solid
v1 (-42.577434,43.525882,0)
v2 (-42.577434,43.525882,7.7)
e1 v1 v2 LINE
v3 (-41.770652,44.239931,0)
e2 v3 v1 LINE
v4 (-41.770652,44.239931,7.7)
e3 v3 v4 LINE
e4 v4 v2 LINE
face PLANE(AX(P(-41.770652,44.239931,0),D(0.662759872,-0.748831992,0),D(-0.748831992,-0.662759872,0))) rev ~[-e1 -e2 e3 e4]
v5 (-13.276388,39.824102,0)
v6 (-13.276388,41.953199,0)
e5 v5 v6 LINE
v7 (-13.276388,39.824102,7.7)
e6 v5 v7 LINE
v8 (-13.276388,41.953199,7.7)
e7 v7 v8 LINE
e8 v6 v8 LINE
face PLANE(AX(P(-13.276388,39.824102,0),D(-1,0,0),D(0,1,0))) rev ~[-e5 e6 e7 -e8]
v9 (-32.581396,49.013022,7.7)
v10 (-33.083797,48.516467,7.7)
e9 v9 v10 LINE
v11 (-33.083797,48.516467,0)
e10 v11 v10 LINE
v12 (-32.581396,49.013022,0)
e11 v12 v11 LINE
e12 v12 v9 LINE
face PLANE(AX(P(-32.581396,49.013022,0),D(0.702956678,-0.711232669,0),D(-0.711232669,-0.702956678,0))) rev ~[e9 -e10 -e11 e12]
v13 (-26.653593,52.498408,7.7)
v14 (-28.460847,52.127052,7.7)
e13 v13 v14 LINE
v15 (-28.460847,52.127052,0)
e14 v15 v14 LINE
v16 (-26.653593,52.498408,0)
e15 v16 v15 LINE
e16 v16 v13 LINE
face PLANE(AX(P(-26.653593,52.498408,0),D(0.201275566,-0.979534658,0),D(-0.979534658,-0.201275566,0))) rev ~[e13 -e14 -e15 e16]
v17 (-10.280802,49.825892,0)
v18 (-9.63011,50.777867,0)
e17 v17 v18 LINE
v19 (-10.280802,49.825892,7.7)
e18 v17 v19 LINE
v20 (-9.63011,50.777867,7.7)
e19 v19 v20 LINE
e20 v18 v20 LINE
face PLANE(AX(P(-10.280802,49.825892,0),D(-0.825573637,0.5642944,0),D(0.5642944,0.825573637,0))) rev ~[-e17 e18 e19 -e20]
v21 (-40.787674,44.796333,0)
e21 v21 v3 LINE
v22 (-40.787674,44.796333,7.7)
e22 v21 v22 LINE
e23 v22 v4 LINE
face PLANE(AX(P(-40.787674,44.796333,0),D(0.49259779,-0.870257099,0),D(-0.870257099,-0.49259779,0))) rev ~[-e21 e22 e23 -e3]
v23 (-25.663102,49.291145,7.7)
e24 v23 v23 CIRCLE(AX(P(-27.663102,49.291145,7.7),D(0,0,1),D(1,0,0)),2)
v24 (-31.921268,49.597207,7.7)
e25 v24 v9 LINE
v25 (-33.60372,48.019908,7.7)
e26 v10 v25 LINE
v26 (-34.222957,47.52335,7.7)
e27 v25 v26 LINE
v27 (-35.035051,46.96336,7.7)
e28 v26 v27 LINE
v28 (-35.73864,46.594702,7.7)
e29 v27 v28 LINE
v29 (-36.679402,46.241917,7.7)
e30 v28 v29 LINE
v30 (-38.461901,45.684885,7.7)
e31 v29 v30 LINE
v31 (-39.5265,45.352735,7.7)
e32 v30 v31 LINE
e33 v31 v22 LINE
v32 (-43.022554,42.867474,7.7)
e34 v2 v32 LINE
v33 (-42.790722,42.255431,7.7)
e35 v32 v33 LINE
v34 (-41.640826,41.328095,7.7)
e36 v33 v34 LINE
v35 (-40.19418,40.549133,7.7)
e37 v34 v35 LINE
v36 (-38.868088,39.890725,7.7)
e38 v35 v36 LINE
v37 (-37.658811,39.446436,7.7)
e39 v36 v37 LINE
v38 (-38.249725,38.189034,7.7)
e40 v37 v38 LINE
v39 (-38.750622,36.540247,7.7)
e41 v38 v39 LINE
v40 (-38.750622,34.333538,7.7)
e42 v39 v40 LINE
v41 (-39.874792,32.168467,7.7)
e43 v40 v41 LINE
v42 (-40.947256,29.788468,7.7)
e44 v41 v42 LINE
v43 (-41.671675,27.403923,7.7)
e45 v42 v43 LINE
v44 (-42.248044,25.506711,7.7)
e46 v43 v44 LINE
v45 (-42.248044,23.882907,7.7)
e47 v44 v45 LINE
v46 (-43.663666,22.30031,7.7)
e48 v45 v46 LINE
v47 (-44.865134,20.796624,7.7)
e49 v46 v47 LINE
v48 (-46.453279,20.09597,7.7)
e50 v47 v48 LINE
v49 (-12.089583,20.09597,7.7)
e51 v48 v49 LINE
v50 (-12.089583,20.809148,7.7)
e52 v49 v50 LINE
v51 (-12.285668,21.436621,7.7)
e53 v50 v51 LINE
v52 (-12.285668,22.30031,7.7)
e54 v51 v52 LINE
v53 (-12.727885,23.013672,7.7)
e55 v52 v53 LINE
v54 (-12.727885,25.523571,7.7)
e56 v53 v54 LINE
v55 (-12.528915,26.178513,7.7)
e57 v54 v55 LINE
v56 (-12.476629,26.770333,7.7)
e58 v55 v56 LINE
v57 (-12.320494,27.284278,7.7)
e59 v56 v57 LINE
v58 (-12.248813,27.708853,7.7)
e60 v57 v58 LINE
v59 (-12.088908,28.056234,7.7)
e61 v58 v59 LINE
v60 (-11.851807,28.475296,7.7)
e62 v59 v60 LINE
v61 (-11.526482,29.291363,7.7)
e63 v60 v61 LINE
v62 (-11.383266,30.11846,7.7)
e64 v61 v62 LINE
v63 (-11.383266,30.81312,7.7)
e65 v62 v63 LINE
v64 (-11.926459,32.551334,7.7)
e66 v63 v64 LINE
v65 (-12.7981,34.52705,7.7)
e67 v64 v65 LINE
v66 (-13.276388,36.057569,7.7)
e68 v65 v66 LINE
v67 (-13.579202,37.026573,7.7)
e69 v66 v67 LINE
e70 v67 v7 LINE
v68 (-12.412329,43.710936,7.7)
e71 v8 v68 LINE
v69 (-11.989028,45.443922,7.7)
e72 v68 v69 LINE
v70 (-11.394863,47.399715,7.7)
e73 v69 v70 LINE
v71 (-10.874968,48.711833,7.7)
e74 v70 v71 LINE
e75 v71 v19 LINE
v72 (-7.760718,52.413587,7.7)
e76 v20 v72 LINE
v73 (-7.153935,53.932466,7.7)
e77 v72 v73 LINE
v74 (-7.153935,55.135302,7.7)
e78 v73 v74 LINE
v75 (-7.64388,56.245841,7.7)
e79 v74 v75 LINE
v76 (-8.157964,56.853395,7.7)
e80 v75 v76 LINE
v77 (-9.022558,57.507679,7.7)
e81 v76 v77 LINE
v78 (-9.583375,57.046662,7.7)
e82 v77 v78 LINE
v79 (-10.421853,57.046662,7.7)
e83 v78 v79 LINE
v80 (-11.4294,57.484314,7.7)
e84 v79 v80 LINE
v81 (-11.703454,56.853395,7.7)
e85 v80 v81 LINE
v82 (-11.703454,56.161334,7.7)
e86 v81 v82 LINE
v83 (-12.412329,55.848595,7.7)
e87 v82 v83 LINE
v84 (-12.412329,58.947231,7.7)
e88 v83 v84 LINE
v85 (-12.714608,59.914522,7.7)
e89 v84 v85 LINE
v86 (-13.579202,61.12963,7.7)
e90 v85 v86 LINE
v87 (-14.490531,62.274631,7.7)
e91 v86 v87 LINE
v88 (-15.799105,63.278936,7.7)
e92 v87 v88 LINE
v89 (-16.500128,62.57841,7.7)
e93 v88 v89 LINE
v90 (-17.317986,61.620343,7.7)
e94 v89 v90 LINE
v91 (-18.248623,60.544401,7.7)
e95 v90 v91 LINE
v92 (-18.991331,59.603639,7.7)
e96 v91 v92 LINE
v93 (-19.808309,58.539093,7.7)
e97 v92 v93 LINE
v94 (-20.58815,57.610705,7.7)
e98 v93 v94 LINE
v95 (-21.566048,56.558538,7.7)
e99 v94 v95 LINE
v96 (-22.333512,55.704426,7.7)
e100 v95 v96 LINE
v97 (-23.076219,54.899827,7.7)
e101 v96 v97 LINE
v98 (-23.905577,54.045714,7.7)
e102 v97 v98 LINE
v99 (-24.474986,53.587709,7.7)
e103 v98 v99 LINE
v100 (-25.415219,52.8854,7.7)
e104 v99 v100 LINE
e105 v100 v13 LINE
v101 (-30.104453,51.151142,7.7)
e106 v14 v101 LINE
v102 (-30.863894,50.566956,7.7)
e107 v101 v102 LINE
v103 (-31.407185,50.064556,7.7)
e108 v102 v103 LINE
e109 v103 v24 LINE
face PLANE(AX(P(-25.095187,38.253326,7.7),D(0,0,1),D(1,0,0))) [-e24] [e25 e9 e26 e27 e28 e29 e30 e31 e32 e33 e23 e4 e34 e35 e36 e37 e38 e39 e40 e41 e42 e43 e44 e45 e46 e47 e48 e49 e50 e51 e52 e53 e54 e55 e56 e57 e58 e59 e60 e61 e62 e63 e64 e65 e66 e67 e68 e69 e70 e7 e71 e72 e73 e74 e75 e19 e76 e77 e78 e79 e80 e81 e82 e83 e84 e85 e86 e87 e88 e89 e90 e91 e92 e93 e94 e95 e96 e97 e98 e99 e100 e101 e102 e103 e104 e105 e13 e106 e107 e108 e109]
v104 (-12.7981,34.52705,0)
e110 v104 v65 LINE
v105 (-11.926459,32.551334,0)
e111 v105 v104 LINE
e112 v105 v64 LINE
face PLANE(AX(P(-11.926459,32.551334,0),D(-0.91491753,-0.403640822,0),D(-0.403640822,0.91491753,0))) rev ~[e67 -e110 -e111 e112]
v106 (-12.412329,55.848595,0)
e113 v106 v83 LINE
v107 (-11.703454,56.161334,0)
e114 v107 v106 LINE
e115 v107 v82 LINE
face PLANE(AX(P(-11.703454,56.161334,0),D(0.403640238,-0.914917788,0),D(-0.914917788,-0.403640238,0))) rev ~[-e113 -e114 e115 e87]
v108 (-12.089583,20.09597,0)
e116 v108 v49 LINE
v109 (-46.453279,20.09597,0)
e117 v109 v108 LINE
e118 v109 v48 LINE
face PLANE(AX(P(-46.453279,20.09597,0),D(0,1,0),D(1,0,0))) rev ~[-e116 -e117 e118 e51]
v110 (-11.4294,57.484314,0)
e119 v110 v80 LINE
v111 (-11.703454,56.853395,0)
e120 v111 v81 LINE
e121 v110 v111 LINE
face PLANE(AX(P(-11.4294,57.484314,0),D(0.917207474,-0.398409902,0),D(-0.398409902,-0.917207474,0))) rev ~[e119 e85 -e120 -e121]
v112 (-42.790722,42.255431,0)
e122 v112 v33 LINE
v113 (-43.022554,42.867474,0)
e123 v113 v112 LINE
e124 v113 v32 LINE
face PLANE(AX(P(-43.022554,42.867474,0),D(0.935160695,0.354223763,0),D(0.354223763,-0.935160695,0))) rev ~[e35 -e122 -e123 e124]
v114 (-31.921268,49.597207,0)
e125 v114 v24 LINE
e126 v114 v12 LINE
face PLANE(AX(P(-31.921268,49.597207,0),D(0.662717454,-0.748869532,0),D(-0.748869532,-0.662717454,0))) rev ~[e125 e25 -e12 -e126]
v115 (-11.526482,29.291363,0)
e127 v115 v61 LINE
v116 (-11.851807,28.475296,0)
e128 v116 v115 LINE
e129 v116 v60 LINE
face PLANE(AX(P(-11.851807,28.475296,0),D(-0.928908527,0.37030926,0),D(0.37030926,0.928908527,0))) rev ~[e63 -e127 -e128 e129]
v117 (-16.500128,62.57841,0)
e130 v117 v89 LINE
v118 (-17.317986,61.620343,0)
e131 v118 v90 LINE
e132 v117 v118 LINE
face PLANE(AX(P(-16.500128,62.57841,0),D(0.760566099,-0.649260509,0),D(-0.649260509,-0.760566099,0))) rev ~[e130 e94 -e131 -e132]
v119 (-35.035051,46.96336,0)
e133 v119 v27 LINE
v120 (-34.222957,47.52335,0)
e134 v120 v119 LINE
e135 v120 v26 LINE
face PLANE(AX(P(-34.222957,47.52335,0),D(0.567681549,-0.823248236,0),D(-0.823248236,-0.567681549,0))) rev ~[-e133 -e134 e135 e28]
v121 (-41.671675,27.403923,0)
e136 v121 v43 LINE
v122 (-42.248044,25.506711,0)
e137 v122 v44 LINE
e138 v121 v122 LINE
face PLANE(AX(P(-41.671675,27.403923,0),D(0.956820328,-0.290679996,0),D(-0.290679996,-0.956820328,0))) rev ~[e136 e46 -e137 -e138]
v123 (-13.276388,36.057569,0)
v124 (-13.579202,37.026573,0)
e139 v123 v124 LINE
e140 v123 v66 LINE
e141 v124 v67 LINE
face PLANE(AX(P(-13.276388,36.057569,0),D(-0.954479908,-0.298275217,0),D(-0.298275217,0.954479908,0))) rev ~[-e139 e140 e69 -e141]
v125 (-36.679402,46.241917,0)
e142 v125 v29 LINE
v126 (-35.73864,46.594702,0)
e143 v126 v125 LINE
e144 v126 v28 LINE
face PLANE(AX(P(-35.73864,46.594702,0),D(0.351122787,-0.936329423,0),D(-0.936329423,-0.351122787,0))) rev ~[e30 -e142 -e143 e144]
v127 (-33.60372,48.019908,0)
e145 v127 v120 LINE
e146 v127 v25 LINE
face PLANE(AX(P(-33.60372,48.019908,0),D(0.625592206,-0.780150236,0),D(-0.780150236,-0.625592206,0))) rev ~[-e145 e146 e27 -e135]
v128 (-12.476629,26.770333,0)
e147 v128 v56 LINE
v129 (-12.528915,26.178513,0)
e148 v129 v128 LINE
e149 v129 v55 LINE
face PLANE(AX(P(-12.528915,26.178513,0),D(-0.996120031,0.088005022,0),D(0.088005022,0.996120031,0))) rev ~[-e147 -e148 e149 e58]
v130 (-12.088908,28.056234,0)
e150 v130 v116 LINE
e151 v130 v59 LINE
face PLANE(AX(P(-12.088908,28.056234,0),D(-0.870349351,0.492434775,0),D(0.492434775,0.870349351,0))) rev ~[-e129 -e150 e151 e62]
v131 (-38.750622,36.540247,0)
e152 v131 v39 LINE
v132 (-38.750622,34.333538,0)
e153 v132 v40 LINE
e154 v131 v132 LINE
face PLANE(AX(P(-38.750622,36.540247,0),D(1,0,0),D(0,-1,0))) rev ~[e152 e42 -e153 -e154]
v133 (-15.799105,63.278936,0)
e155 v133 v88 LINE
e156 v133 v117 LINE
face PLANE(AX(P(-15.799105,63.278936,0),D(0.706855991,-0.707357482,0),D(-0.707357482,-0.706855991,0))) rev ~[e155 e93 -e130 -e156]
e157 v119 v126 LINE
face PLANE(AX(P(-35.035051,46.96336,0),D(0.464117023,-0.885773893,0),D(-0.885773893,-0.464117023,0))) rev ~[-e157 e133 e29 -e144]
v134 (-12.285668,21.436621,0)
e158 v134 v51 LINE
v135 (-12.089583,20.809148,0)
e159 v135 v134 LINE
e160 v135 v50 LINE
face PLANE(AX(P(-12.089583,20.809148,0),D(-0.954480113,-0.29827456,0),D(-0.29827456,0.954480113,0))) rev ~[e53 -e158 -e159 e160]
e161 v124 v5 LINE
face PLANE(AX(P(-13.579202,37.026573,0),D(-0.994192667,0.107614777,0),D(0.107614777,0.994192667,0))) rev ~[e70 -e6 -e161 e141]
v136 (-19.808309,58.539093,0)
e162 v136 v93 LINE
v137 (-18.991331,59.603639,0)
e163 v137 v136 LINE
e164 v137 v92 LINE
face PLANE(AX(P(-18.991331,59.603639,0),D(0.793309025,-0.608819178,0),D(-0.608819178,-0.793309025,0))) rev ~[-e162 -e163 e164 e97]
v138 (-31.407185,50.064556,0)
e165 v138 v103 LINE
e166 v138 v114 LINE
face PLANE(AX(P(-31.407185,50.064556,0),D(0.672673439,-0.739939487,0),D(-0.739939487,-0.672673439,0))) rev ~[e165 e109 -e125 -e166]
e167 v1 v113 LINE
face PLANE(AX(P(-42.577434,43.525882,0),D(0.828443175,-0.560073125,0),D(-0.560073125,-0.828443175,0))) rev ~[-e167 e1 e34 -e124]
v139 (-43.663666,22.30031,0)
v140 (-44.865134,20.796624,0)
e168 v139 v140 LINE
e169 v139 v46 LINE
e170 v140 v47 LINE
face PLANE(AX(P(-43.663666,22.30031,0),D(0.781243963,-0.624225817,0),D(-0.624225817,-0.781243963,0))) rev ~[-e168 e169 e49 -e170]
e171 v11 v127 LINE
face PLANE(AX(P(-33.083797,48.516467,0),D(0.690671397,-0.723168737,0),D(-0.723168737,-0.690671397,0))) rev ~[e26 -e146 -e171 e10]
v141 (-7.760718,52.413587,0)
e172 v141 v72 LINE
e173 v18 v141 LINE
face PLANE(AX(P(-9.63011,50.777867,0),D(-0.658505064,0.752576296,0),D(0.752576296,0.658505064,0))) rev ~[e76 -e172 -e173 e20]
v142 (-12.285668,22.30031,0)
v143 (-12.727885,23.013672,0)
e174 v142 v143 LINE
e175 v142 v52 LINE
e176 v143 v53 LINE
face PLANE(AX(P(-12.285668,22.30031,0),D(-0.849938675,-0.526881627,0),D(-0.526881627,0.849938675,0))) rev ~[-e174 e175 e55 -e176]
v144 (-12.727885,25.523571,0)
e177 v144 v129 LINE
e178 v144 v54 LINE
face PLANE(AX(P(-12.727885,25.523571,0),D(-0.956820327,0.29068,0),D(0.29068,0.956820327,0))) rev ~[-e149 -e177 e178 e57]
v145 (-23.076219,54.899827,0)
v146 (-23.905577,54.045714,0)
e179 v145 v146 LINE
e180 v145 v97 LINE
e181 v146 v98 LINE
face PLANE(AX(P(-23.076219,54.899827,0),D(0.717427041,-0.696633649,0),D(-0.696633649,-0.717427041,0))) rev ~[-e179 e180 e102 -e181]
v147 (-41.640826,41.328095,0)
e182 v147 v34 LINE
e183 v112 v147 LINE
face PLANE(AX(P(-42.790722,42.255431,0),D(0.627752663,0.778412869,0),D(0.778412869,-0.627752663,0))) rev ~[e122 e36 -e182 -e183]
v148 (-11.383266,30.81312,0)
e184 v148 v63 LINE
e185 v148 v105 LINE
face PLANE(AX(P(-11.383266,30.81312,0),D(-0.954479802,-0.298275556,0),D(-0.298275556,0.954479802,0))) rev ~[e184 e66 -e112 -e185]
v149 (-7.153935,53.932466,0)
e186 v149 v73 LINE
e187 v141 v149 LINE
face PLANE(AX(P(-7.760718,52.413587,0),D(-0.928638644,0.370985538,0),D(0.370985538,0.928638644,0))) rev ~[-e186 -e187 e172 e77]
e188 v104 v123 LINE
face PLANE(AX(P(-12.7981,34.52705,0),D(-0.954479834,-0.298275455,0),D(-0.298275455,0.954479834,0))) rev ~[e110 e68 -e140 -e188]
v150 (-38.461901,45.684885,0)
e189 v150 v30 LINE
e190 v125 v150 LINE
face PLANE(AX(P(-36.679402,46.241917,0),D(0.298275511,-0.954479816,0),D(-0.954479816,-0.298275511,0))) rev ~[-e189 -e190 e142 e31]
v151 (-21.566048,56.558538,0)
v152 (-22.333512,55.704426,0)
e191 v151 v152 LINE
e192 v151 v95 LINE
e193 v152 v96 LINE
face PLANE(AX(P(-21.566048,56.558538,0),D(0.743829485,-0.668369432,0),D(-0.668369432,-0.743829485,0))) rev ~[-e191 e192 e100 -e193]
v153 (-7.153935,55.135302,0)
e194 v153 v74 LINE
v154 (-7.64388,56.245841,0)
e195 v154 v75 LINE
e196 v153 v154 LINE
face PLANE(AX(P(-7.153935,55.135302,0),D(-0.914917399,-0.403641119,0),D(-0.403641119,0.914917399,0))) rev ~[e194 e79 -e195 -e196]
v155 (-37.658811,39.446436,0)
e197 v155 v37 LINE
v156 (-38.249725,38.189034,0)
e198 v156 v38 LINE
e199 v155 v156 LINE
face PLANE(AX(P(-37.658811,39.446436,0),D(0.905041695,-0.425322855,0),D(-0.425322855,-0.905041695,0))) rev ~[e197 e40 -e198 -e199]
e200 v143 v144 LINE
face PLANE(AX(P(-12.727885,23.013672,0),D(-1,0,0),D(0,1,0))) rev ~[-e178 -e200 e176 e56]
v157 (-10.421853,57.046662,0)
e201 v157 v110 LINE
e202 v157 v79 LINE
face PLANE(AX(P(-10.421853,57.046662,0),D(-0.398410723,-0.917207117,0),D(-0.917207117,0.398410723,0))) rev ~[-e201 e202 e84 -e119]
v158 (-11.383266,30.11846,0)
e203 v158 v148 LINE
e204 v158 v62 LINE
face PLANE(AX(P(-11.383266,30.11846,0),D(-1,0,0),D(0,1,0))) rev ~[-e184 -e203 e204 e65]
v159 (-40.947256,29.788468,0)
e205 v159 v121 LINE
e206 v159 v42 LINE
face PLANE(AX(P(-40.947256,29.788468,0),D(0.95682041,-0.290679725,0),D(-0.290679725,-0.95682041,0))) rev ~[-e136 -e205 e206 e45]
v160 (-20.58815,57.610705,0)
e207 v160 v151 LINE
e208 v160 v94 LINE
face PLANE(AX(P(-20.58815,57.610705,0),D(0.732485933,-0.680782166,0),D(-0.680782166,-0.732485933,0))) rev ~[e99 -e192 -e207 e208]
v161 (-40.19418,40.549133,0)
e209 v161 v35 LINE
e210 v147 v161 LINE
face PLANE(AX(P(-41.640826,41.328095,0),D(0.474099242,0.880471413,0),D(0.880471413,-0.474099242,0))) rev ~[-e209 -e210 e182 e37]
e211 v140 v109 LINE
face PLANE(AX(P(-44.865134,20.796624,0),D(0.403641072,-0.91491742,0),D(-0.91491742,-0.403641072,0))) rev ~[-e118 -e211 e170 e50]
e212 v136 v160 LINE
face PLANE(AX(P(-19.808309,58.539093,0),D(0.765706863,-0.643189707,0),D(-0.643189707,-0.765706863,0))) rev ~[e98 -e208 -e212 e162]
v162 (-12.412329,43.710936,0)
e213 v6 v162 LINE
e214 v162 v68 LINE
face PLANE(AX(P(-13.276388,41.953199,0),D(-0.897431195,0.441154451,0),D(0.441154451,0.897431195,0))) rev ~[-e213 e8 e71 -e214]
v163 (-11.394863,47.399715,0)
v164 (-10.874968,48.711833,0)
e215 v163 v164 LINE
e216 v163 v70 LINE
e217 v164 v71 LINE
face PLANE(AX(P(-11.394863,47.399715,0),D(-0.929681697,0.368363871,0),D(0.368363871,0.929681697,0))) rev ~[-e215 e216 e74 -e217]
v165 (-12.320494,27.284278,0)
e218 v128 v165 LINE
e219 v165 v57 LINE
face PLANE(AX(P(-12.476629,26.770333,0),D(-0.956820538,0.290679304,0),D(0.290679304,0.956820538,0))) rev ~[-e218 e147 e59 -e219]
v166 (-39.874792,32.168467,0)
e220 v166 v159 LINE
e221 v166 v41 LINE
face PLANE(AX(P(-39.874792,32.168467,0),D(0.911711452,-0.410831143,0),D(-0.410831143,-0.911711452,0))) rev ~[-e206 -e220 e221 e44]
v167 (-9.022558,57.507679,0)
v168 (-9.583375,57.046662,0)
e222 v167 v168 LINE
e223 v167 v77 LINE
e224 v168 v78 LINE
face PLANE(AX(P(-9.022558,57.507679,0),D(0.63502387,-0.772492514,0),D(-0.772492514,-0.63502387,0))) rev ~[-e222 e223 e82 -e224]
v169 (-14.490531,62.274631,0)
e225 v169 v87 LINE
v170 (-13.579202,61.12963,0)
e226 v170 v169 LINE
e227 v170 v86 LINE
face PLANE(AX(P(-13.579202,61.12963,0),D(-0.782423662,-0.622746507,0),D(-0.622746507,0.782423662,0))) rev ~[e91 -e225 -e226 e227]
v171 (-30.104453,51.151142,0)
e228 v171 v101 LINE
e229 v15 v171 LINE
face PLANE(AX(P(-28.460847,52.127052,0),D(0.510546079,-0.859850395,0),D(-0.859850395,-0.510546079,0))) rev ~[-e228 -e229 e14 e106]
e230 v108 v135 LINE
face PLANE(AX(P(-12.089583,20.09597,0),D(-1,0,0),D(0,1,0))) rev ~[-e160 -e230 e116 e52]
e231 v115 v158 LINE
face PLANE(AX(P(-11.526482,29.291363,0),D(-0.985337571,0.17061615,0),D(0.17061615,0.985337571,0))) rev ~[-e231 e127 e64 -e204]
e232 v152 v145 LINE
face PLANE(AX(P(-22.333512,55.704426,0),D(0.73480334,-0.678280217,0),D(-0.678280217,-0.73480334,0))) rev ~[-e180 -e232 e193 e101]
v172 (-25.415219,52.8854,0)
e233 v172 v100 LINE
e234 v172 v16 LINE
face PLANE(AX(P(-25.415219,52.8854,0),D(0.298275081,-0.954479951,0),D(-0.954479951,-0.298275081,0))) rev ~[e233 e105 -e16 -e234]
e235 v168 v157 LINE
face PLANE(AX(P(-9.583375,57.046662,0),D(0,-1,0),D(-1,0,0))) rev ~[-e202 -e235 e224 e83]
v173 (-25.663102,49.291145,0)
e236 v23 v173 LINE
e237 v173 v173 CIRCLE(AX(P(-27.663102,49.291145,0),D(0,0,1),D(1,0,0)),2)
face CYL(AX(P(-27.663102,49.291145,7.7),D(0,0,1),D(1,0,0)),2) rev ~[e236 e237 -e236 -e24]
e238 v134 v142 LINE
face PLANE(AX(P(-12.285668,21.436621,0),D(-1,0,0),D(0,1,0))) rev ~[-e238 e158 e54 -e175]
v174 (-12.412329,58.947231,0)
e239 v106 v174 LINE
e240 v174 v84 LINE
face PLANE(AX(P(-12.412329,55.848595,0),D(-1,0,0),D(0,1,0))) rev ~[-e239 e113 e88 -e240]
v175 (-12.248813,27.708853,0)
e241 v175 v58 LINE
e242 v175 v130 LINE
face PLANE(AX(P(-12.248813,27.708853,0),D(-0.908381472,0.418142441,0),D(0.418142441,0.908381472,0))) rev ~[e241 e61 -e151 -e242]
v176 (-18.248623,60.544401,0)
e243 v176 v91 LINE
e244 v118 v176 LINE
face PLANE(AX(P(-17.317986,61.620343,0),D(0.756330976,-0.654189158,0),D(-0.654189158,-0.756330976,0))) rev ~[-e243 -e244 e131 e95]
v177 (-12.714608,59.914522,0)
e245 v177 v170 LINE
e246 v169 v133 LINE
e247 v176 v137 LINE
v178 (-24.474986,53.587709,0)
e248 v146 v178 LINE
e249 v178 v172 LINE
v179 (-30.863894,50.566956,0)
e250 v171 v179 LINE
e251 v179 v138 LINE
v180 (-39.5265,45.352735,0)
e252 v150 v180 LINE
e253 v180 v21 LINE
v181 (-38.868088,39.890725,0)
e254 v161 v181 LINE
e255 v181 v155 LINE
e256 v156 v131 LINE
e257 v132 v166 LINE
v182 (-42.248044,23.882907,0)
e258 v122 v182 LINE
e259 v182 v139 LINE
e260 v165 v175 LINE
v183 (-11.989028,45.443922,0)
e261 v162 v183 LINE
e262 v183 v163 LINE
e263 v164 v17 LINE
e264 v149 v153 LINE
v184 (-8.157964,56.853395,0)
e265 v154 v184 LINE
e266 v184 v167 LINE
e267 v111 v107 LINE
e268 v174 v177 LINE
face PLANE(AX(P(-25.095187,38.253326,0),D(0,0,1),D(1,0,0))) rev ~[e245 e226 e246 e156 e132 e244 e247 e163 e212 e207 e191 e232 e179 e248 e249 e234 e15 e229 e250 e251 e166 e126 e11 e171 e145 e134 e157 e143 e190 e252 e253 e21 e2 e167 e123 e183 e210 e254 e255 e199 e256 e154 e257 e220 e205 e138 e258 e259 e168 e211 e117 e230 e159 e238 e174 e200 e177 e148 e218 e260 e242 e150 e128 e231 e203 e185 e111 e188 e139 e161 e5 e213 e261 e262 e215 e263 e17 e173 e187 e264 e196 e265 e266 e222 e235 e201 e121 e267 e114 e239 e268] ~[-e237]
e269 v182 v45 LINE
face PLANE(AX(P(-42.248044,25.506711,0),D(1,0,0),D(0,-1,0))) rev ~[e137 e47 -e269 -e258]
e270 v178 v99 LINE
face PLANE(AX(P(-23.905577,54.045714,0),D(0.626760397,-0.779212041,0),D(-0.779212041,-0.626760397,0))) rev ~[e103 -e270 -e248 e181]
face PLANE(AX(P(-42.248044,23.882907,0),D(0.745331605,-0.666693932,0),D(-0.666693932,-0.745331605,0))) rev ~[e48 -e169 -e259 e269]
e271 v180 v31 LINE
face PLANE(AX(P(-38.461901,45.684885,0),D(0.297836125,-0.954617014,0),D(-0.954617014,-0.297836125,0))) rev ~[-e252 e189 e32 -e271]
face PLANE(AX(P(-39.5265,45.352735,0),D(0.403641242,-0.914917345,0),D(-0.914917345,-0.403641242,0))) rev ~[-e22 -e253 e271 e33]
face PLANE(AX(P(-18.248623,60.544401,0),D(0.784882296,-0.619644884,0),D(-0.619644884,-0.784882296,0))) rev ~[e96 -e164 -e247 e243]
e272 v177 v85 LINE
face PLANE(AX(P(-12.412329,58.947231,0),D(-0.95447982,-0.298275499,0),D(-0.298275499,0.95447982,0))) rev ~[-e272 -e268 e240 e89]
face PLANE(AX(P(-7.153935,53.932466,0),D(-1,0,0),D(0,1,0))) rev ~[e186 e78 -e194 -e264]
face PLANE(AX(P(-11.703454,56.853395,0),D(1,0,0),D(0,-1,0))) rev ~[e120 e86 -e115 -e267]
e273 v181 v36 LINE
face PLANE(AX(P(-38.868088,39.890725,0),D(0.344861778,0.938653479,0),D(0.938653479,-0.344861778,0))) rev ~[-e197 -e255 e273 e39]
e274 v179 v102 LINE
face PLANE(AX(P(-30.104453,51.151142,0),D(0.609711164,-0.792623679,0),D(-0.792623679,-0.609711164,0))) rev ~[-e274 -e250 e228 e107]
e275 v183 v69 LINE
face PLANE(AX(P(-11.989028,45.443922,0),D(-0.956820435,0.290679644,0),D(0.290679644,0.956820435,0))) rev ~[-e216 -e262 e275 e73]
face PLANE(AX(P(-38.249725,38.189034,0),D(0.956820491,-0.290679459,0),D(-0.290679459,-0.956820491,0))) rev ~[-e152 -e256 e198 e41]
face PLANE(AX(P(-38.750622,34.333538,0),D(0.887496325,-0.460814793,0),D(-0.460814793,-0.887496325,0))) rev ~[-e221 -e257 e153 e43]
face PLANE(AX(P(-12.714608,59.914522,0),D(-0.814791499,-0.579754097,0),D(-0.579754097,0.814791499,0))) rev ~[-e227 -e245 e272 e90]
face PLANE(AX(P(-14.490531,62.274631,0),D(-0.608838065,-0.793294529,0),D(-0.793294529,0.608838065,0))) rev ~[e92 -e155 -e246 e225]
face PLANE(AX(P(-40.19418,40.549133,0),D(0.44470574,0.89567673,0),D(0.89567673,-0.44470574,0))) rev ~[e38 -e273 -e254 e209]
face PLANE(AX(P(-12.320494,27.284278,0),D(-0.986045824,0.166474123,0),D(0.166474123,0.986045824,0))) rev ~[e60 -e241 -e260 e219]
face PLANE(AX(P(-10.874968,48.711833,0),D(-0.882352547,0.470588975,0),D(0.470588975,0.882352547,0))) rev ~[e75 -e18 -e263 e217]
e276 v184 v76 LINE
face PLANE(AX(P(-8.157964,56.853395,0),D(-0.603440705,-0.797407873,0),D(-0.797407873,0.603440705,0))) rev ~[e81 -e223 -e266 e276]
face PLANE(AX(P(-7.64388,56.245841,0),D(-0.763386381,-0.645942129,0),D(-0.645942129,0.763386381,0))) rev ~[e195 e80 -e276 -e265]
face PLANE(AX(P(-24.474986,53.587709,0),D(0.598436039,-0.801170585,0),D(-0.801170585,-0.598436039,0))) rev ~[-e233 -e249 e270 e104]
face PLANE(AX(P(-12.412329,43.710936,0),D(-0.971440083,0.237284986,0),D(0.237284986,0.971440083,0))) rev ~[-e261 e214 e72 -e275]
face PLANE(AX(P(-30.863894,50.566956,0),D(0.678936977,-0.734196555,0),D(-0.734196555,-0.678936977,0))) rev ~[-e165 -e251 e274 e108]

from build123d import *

# Parameters (mm, degrees)
F1_DEPTH = 7.7
F2_R     = 2
F3_DEPTH = 14.4


with BuildPart() as f1:
    # F0 (on Top) → F1 (new body)
    with BuildSketch(Plane.XY):
        Polygon((-38.868088, 39.890725), (-37.658811, 39.446436), (-38.249725, 38.189034), (-38.750622, 36.540247), (-38.750622, 34.333538), (-39.874792, 32.168467), (-40.947256, 29.788468), (-41.671675, 27.403923), (-42.248044, 25.506711), (-42.248044, 23.882907), (-43.663666, 22.30031), (-44.865134, 20.796624), (-46.453279, 20.09597), (-12.089583, 20.09597), (-12.089583, 20.809148), (-12.285668, 21.436621), (-12.285668, 22.30031), (-12.727885, 23.013672), (-12.727885, 23.801431), (-12.727885, 24.664005), (-12.727885, 25.523571), (-12.528915, 26.178513), (-12.476629, 26.770333), (-12.320494, 27.284278), (-12.248813, 27.708853), (-12.088908, 28.056234), (-11.851807, 28.475296), (-11.526482, 29.291363), (-11.383266, 30.11846), (-11.383266, 30.81312), (-11.926459, 32.551334), (-12.7981, 34.52705), (-13.276388, 36.057569), (-13.579202, 37.026573), (-13.276388, 39.824102), (-13.276388, 41.953199), (-12.412329, 43.710936), (-11.989028, 45.443922), (-11.394863, 47.399715), (-10.874968, 48.711833), (-10.280802, 49.825892), (-9.63011, 50.777867), (-7.760718, 52.413587), (-7.153935, 53.932466), (-7.153935, 55.135302), (-7.64388, 56.245841), (-8.157964, 56.853395), (-9.022558, 57.507679), (-9.583375, 57.046662), (-10.421853, 57.046662), (-11.4294, 57.484314), (-11.703454, 56.853395), (-11.703454, 56.161334), (-12.412329, 55.848595), (-12.412329, 57.554416), (-12.412329, 58.947231), (-12.714608, 59.914522), (-13.579202, 61.12963), (-14.490531, 62.274631), (-15.799105, 63.278936), (-16.500128, 62.57841), (-17.317986, 61.620343), (-18.248623, 60.544401), (-18.991331, 59.603639), (-19.808309, 58.539093), (-20.58815, 57.610705), (-21.566048, 56.558538), (-22.333512, 55.704426), (-23.076219, 54.899827), (-23.905577, 54.045714), (-24.474986, 53.587709), (-25.415219, 52.8854), (-26.653593, 52.498408), (-28.460847, 52.127052), (-30.104453, 51.151142), (-30.863894, 50.566956), (-31.407185, 50.064556), (-31.921268, 49.597207), (-32.581396, 49.013022), (-33.083797, 48.516467), (-33.60372, 48.019908), (-34.222957, 47.52335), (-35.035051, 46.96336), (-35.73864, 46.594702), (-36.679402, 46.241917), (-38.461901, 45.684885), (-39.5265, 45.352735), (-40.787674, 44.796333), (-41.770652, 44.239931), (-42.577434, 43.525882), (-43.022554, 42.867474), (-42.790722, 42.255431), (-41.640826, 41.328095), (-40.19418, 40.549133), align=None)
    extrude(amount=F1_DEPTH)

    # F2 (on face) → F3 (cut)
    with BuildSketch(Plane.XY.offset(7.7)):
        with Locations((-27.663102, 49.291145)):
            Circle(F2_R)
    extrude(amount=-F3_DEPTH, mode=Mode.SUBTRACT)


solid = f1.part
